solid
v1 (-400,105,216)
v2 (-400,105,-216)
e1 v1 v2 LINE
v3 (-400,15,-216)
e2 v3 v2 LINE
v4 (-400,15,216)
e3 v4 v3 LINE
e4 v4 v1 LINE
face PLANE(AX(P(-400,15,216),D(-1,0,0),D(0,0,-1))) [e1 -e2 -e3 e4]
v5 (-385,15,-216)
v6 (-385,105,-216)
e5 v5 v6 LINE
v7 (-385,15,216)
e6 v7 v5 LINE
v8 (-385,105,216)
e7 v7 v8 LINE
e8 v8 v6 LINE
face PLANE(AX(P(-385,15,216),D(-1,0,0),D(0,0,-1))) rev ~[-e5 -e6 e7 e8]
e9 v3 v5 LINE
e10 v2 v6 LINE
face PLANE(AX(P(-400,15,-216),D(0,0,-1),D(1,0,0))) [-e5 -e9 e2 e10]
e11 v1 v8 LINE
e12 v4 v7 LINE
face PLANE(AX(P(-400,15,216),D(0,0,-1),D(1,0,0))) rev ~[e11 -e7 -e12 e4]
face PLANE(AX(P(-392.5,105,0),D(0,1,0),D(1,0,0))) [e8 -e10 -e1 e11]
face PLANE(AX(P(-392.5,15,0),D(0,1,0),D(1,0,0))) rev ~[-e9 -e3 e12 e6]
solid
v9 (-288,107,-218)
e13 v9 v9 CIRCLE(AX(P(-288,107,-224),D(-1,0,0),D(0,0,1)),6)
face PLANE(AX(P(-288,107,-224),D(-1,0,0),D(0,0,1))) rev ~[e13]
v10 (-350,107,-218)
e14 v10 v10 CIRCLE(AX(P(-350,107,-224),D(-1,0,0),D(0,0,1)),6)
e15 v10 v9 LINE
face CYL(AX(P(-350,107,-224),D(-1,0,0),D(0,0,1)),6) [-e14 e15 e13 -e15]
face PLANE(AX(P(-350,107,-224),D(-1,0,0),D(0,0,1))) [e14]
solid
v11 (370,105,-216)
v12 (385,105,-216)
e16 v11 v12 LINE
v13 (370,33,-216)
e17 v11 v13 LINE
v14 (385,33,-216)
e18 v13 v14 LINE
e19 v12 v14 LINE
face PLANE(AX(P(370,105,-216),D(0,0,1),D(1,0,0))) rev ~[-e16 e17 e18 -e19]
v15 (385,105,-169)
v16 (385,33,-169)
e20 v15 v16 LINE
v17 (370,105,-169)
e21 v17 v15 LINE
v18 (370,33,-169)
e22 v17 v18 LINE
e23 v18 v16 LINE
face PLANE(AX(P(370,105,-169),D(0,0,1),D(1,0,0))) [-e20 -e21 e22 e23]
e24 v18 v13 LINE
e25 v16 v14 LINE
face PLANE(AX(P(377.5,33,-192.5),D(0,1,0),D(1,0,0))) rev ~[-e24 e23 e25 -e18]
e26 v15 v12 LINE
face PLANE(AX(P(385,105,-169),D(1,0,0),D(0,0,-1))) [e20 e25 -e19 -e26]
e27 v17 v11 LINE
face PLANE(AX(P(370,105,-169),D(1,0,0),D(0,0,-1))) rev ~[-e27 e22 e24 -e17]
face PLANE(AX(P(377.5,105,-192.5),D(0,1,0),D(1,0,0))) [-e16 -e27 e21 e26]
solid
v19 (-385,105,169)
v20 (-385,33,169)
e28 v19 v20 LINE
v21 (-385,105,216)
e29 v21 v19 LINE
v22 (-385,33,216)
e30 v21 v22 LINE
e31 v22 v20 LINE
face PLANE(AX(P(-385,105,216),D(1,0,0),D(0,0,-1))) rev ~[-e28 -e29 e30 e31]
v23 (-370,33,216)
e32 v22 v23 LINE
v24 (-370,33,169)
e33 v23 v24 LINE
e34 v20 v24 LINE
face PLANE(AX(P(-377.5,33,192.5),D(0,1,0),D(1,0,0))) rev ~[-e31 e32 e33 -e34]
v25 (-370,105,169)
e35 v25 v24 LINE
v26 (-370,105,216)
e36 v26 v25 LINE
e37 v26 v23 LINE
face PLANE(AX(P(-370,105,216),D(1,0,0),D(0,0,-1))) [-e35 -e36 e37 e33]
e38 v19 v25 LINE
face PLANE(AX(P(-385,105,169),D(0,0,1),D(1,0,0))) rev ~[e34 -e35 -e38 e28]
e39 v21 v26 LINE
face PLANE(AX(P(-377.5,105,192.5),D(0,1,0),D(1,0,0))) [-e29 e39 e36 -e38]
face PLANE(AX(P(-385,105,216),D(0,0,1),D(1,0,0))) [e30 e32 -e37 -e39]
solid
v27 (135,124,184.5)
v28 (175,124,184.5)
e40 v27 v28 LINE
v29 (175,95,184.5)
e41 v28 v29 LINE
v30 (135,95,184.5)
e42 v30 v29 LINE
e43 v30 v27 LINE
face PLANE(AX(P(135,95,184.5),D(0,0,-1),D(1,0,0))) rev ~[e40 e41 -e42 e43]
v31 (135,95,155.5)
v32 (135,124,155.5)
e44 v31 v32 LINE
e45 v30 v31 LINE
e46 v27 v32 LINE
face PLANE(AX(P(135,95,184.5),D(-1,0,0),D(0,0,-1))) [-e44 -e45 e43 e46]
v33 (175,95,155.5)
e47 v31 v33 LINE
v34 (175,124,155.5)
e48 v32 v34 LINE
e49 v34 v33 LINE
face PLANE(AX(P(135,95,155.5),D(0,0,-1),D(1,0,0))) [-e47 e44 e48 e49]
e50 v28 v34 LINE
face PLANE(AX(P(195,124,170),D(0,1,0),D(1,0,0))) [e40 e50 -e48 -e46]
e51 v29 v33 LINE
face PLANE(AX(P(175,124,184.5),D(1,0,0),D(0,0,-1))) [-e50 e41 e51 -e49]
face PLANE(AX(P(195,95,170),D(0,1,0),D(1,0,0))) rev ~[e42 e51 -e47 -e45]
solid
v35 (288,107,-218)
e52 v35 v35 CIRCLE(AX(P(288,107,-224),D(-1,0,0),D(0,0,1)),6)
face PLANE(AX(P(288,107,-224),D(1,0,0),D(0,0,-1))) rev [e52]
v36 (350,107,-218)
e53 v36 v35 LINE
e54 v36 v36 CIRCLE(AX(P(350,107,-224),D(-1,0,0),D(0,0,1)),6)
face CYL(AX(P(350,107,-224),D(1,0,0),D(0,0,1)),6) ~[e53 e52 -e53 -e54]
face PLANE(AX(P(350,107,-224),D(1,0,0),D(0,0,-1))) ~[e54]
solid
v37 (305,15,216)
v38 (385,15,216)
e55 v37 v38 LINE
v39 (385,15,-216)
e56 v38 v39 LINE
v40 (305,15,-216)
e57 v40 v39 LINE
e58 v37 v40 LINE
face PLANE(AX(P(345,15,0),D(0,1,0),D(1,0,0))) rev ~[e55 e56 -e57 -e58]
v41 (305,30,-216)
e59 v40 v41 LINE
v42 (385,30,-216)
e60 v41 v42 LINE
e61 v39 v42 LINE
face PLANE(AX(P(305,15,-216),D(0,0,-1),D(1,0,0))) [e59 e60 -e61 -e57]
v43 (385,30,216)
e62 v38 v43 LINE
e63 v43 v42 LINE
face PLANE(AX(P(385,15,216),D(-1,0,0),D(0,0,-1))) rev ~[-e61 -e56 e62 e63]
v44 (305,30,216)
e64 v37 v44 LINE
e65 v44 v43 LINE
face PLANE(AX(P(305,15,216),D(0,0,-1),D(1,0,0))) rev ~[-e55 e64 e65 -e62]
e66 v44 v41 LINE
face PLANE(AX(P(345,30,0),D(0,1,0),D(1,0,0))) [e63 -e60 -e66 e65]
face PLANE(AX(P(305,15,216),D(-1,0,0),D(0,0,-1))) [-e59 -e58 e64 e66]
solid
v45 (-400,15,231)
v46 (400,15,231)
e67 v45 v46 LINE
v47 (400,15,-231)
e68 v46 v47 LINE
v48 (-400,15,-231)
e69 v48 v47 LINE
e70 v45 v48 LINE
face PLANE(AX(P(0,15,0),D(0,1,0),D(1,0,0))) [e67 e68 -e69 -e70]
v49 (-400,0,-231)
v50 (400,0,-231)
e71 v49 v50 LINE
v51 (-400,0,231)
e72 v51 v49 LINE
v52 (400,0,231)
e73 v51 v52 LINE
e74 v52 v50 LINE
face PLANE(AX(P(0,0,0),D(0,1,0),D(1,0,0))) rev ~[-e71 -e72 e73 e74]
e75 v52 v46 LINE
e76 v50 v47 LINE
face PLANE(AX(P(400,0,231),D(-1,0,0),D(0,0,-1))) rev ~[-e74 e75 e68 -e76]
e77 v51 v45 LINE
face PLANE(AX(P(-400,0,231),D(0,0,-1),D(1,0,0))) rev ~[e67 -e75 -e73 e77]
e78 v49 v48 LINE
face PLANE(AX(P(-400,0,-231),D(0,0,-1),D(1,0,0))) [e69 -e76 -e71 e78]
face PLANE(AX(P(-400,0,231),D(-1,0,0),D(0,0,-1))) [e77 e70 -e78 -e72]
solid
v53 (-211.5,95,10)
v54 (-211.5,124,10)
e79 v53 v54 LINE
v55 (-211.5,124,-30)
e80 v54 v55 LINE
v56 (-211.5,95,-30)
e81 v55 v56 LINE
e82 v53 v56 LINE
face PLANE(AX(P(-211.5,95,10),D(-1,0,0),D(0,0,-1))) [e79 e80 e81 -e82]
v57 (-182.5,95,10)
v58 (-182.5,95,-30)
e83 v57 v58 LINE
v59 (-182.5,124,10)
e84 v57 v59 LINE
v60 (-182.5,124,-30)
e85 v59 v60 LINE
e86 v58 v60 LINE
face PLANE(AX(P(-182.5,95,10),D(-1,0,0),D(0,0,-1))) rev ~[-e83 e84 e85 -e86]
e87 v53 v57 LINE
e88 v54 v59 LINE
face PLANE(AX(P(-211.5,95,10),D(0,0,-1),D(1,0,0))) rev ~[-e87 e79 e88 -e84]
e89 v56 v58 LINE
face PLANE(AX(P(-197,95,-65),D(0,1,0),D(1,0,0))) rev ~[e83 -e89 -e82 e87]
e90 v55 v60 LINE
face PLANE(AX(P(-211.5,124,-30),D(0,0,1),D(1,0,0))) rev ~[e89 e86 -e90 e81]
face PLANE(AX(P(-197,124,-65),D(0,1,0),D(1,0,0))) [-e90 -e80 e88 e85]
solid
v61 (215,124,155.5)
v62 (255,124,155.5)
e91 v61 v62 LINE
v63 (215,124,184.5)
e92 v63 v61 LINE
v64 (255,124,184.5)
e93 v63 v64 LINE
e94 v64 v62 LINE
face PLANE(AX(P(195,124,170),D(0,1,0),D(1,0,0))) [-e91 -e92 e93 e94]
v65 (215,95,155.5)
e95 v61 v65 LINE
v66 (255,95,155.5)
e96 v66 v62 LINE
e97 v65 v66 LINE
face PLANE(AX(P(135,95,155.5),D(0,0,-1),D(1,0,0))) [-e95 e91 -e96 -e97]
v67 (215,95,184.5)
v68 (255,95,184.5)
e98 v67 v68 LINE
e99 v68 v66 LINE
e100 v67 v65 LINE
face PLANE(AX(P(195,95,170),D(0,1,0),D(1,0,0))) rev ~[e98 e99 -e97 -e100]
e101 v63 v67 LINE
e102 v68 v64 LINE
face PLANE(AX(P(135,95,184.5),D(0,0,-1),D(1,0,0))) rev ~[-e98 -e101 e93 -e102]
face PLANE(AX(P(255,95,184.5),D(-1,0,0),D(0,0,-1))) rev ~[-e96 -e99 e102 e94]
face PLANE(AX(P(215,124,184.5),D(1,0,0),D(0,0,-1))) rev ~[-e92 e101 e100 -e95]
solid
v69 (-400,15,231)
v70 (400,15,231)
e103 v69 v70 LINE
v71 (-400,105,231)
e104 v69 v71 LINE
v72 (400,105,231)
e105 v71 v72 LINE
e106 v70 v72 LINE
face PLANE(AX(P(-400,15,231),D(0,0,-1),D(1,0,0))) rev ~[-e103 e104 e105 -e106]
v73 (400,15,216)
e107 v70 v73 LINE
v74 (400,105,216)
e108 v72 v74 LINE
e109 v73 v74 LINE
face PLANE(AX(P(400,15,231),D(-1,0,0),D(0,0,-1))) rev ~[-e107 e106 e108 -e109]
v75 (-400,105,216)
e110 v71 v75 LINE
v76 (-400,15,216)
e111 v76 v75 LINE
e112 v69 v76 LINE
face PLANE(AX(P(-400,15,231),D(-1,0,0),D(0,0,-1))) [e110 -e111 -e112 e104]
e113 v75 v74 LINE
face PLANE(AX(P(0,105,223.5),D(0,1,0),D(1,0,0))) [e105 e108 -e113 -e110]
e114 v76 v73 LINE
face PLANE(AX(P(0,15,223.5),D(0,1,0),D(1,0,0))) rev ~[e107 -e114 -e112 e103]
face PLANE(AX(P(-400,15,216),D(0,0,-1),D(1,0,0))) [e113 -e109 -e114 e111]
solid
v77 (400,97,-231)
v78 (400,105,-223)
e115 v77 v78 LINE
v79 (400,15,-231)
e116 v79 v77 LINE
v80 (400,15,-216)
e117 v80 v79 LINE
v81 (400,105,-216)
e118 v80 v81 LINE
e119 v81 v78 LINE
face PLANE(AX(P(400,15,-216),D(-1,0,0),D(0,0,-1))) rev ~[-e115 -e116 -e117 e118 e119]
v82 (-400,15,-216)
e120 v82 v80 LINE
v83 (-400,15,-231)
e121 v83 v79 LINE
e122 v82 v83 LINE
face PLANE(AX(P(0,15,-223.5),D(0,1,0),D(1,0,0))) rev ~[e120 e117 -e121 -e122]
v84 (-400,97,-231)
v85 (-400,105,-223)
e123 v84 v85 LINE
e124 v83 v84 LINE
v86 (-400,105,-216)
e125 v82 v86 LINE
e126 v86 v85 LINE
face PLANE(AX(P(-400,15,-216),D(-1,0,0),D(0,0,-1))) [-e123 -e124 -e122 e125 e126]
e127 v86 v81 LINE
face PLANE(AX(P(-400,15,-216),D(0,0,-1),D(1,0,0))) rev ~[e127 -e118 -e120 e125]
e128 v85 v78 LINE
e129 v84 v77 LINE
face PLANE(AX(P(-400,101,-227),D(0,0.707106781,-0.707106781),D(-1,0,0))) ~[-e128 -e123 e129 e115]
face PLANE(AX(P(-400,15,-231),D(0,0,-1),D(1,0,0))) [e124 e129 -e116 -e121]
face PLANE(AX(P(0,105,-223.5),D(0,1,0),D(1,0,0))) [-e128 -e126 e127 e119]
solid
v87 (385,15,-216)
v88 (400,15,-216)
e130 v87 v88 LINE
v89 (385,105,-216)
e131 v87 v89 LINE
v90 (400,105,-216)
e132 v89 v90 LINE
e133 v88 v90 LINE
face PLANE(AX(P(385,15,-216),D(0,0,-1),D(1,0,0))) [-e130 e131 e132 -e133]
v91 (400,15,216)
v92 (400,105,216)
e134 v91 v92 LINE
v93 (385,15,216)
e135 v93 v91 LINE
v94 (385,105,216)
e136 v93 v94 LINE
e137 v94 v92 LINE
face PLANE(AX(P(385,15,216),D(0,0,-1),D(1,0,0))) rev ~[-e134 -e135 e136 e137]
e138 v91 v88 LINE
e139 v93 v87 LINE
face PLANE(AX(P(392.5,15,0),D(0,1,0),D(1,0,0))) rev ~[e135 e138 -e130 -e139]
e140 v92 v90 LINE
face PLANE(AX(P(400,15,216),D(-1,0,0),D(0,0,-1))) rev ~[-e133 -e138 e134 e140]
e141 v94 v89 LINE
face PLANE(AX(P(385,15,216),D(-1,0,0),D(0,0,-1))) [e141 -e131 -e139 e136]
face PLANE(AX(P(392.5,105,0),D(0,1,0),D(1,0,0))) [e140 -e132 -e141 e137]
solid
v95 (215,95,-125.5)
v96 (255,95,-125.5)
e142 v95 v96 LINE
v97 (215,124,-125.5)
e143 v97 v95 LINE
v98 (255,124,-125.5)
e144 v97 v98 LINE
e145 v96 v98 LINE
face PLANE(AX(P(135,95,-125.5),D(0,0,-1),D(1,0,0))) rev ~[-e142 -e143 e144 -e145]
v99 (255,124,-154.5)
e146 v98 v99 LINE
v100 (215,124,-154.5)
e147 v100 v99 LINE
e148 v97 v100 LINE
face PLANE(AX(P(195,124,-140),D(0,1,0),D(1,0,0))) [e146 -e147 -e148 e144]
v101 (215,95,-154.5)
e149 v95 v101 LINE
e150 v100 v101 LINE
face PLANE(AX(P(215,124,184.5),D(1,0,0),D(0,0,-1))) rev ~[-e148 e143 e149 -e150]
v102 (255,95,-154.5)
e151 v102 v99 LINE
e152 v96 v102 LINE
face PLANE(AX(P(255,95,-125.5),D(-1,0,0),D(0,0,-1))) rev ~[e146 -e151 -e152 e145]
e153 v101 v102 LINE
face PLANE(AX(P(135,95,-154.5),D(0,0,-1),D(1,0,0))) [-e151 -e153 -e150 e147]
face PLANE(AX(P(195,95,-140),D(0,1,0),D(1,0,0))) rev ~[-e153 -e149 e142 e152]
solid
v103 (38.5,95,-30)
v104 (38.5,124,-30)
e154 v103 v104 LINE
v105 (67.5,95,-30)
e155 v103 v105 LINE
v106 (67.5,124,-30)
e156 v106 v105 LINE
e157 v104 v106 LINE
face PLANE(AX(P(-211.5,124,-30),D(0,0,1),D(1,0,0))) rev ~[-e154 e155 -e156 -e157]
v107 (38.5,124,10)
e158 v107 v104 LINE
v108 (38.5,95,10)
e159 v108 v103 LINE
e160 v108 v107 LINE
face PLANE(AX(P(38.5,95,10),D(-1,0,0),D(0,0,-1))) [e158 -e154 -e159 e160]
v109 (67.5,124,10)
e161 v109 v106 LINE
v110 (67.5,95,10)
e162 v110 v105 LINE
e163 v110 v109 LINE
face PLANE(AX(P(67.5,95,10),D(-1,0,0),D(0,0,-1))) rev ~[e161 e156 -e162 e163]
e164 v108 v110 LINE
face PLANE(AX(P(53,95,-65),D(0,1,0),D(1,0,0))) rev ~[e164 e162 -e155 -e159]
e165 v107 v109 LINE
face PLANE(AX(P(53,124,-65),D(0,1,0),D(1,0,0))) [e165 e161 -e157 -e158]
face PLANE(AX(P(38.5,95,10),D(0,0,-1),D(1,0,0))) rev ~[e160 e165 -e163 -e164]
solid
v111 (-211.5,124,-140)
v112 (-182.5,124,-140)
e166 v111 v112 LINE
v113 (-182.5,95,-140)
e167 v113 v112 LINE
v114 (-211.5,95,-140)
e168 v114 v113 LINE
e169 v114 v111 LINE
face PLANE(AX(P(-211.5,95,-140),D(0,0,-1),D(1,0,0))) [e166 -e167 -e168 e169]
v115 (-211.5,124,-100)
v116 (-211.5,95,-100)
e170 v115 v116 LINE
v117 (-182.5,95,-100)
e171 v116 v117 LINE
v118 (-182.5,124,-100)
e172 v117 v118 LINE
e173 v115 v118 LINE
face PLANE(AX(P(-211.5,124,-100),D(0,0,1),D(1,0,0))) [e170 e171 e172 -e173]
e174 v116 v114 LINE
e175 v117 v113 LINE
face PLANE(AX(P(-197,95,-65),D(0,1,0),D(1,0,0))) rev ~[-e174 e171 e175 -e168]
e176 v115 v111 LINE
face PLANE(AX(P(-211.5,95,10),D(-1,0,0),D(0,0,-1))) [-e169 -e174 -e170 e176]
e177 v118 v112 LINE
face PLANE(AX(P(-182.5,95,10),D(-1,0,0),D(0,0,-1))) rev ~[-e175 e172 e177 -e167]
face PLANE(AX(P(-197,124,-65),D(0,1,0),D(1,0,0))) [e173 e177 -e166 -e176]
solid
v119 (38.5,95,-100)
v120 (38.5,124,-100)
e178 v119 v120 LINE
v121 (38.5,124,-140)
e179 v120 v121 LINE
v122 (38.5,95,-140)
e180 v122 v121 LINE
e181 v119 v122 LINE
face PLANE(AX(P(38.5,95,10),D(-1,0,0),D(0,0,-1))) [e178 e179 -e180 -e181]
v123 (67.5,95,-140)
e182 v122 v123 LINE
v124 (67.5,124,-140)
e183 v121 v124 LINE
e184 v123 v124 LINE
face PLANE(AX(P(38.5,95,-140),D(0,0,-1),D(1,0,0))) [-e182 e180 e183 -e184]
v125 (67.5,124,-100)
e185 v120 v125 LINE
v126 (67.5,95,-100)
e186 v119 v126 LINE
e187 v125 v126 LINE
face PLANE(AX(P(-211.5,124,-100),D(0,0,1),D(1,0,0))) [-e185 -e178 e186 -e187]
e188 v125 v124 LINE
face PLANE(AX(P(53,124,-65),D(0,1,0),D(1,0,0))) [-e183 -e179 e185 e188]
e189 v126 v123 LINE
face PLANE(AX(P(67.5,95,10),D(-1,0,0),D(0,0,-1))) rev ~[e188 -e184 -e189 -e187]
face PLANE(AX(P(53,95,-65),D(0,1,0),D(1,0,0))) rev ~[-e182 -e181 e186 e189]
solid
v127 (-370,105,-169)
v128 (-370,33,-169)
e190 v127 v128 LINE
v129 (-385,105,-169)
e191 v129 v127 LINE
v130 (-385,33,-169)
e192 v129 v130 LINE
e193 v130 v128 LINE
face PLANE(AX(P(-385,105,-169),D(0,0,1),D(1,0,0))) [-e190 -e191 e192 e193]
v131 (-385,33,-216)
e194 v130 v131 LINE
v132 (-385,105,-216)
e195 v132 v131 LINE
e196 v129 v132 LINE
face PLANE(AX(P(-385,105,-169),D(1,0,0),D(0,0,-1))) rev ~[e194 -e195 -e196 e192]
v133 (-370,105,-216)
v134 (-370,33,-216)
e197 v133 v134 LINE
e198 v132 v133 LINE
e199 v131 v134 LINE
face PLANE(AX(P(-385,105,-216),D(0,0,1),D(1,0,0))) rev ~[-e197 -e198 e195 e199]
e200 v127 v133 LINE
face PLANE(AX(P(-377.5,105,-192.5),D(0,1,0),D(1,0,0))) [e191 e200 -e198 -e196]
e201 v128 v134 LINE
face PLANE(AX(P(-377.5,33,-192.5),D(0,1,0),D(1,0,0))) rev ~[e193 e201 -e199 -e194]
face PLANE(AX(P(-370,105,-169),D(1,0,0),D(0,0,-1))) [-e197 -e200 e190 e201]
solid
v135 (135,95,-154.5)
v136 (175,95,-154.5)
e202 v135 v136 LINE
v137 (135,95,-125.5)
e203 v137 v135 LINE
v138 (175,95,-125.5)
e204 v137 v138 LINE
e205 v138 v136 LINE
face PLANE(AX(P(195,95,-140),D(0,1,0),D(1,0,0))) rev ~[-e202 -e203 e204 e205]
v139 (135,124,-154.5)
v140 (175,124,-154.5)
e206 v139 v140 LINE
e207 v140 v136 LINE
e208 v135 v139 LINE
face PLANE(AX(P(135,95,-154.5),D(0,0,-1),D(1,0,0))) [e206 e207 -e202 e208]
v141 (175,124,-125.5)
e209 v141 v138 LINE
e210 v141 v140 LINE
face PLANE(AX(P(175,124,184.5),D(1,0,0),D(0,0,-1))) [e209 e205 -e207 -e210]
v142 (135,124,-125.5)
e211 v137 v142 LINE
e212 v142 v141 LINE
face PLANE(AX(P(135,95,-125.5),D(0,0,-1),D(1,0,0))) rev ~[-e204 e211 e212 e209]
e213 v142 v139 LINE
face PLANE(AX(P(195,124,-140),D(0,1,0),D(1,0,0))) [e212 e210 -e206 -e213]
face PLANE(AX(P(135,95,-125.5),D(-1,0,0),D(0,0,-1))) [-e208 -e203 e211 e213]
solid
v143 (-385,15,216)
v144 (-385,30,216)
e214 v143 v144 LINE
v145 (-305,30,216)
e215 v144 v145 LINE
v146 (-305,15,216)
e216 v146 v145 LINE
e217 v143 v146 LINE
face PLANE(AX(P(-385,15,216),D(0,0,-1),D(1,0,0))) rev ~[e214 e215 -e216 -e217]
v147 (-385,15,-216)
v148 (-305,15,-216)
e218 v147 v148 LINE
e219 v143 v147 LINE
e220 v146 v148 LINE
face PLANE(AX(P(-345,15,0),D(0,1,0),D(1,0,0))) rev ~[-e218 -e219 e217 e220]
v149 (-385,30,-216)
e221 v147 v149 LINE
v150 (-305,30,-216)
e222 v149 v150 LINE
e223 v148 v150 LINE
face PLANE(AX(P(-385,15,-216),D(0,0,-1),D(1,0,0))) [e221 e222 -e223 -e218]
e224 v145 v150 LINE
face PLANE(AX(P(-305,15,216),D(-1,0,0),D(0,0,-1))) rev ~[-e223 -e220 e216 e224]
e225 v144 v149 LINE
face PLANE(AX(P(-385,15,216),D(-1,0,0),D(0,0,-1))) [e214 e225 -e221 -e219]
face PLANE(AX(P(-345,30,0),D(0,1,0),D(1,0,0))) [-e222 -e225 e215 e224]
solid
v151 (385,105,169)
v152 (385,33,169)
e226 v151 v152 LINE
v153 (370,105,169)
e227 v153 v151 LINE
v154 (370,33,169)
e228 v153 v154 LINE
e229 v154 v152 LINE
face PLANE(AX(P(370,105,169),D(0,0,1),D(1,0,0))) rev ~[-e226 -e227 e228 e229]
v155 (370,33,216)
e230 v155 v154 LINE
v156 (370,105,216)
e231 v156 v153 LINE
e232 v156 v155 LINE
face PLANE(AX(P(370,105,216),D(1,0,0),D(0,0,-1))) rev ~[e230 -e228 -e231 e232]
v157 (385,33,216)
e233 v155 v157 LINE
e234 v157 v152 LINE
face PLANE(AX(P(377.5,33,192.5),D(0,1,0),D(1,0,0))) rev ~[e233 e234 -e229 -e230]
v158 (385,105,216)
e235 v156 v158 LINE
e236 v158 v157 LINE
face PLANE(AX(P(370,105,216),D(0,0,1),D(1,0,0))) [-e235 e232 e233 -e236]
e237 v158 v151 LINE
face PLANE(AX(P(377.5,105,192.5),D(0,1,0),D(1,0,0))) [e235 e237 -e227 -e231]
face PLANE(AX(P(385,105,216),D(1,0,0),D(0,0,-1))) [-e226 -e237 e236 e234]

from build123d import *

# Parameters (mm, degrees)
ESQUISSE1_W             = 800
ESQUISSE1_H             = 462
BOSS_EXTRU_1_DEPTH      = 15
ESQUISSE3_W             = 800
ESQUISSE3_H             = 15
BOSS_EXTRU_3_DEPTH      = 90
BOSS_EXTRU_3_2_DEPTH    = 90
ESQUISSE4_W             = 15
ESQUISSE4_H             = 432
BOSS_EXTRU_4_DEPTH      = 90
BOSS_EXTRU_4_2_DEPTH    = 90
ESQUISSE5_W             = 15
ESQUISSE5_H             = 47
BOSS_EXTRU_5_DEPTH      = 72
BOSS_EXTRU_5_2_DEPTH    = 72
BOSS_EXTRU_5_3_DEPTH    = 72
BOSS_EXTRU_5_4_DEPTH    = 72
ESQUISSE7_W             = 80
ESQUISSE7_H             = 432
BOSS_EXTRU_6_DEPTH      = 15
BOSS_EXTRU_6_2_DEPTH    = 15
BOSS_EXTRU_7_START      = -50
ESQUISSE8_R             = 6
BOSS_EXTRU_7_DEPTH      = 62
CHANFREIN1_SIZE         = 8
ESQUISSE9_W             = 120
ESQUISSE9_H             = 29
BOSS_EXTRU_8_DEPTH      = 29
BOSS_EXTRU_8_2_DEPTH    = 29
ESQUISSE9_W_2           = 29
ESQUISSE9_H_2           = 150
BOSS_EXTRU_8_3_DEPTH    = 29
BOSS_EXTRU_8_4_DEPTH    = 29
ESQUISSE10_W            = 279
ESQUISSE10_H            = 70
ESQUISSE10_W_2          = 40
ESQUISSE10_H_2          = 339
ENL_V_MAT_EXTRU_1_DEPTH = 479.264571132


with BuildPart() as part:
    # Esquisse1 → Boss.-Extru.1 (new body)
    with BuildSketch(Plane(origin=(0, 0, 0), x_dir=(1, 0, 0), z_dir=(0, 1, 0))):
        Rectangle(ESQUISSE1_W, ESQUISSE1_H)
    extrude(amount=BOSS_EXTRU_1_DEPTH)


with BuildPart() as body_2:
    # Esquisse3 → Boss.-Extru.3 (new body)
    with BuildSketch(Plane(origin=(0, 15, 0), x_dir=(1, 0, 0), z_dir=(0, 1, 0))):
        with Locations((0, 223.5)):
            Rectangle(ESQUISSE3_W, ESQUISSE3_H)
    extrude(amount=BOSS_EXTRU_3_DEPTH)

    # Chanfrein1
    chanfrein1_edges = [body_2.edges().sort_by_distance(p)[0] for p in [
        (0, 105, -231),
    ]]
    chamfer(chanfrein1_edges, length=CHANFREIN1_SIZE)


with BuildPart() as body_3:
    # Esquisse3 → Boss.-Extru.3 2 (new body)
    with BuildSketch(Plane(origin=(0, 15, 0), x_dir=(1, 0, 0), z_dir=(0, 1, 0))):
        with Locations((0, -223.5)):
            Rectangle(ESQUISSE3_W, ESQUISSE3_H)
    extrude(amount=BOSS_EXTRU_3_2_DEPTH)


with BuildPart() as body_4:
    # Esquisse4 → Boss.-Extru.4 (new body)
    with BuildSketch(Plane(origin=(0, 15, 0), x_dir=(1, 0, 0), z_dir=(0, 1, 0))):
        with Locations((-392.5, 0)):
            Rectangle(ESQUISSE4_W, ESQUISSE4_H)
    extrude(amount=BOSS_EXTRU_4_DEPTH)


with BuildPart() as body_5:
    # Esquisse4 → Boss.-Extru.4 2 (new body)
    with BuildSketch(Plane(origin=(0, 15, 0), x_dir=(1, 0, 0), z_dir=(0, 1, 0))):
        with Locations((392.5, 0)):
            Rectangle(ESQUISSE4_W, ESQUISSE4_H)
    extrude(amount=BOSS_EXTRU_4_2_DEPTH)


with BuildPart() as body_6:
    # Esquisse5 → Boss.-Extru.5 (new body)
    with BuildSketch(Plane(origin=(0, 105, 0), x_dir=(1, 0, 0), z_dir=(0, 1, 0))):
        with Locations((-377.5, 192.5)):
            Rectangle(ESQUISSE5_W, ESQUISSE5_H)
    extrude(amount=-BOSS_EXTRU_5_DEPTH)


with BuildPart() as body_7:
    # Esquisse5 → Boss.-Extru.5 2 (new body)
    with BuildSketch(Plane(origin=(0, 105, 0), x_dir=(1, 0, 0), z_dir=(0, 1, 0))):
        with Locations((-377.5, -192.5)):
            Rectangle(ESQUISSE5_W, ESQUISSE5_H)
    extrude(amount=-BOSS_EXTRU_5_2_DEPTH)


with BuildPart() as body_8:
    # Esquisse5 → Boss.-Extru.5 3 (new body)
    with BuildSketch(Plane(origin=(0, 105, 0), x_dir=(1, 0, 0), z_dir=(0, 1, 0))):
        with Locations((377.5, -192.5)):
            Rectangle(ESQUISSE5_W, ESQUISSE5_H)
    extrude(amount=-BOSS_EXTRU_5_3_DEPTH)


with BuildPart() as body_9:
    # Esquisse5 → Boss.-Extru.5 4 (new body)
    with BuildSketch(Plane(origin=(0, 105, 0), x_dir=(1, 0, 0), z_dir=(0, 1, 0))):
        with Locations((377.5, 192.5)):
            Rectangle(ESQUISSE5_W, ESQUISSE5_H)
    extrude(amount=-BOSS_EXTRU_5_4_DEPTH)


with BuildPart() as body_10:
    # Esquisse7 → Boss.-Extru.6 (new body)
    with BuildSketch(Plane(origin=(0, 15, 0), x_dir=(1, 0, 0), z_dir=(0, 1, 0))):
        with Locations((-345, 0)):
            Rectangle(ESQUISSE7_W, ESQUISSE7_H)
    extrude(amount=BOSS_EXTRU_6_DEPTH)


with BuildPart() as body_11:
    # Esquisse7 → Boss.-Extru.6 2 (new body)
    with BuildSketch(Plane(origin=(0, 15, 0), x_dir=(1, 0, 0), z_dir=(0, 1, 0))):
        with Locations((345, 0)):
            Rectangle(ESQUISSE7_W, ESQUISSE7_H)
    extrude(amount=BOSS_EXTRU_6_2_DEPTH)


with BuildPart() as body_12:
    # Esquisse8 → Boss.-Extru.7 (new body)
    with BuildSketch(Plane.ZY.offset(400).offset(BOSS_EXTRU_7_START)):
        with Locations((-224, 107)):
            Circle(ESQUISSE8_R)
    extrude(amount=-BOSS_EXTRU_7_DEPTH)


with BuildPart() as body_13:
    # Symétrie3: mirrored copy
    add(body_12.part.mirror(Plane(origin=(0, 0, 0), x_dir=(0, 0, 1), z_dir=(1, 0, 0))))


with BuildPart() as body_14:
    # Esquisse9 → Boss.-Extru.8 (new body)
    with BuildSketch(Plane(origin=(0, 15, 0), x_dir=(1, 0, 0), z_dir=(0, 1, 0))):
        with Locations((195, 140)):
            Rectangle(ESQUISSE9_W, ESQUISSE9_H)
    extrude(amount=BOSS_EXTRU_8_DEPTH)


with BuildPart() as body_15:
    # Esquisse9 → Boss.-Extru.8 2 (new body)
    with BuildSketch(Plane(origin=(0, 15, 0), x_dir=(1, 0, 0), z_dir=(0, 1, 0))):
        with Locations((195, -170)):
            Rectangle(ESQUISSE9_W, ESQUISSE9_H)
    extrude(amount=BOSS_EXTRU_8_2_DEPTH)


with BuildPart() as body_16:
    # Esquisse9 → Boss.-Extru.8 3 (new body)
    with BuildSketch(Plane(origin=(0, 15, 0), x_dir=(1, 0, 0), z_dir=(0, 1, 0))):
        with Locations((-197, 65)):
            Rectangle(ESQUISSE9_W_2, ESQUISSE9_H_2)
    extrude(amount=BOSS_EXTRU_8_3_DEPTH)


with BuildPart() as body_17:
    # Esquisse9 → Boss.-Extru.8 4 (new body)
    with BuildSketch(Plane(origin=(0, 15, 0), x_dir=(1, 0, 0), z_dir=(0, 1, 0))):
        with Locations((53, 65)):
            Rectangle(ESQUISSE9_W_2, ESQUISSE9_H_2)
    extrude(amount=BOSS_EXTRU_8_4_DEPTH)


with BuildPart() as body_15_1:
    # Corps-Déplacer/Copier1: moved
    add(body_15.part.moved(Location((0, 80, 0))))


with BuildPart() as body_14_1:
    # Corps-Déplacer/Copier1: moved
    add(body_14.part.moved(Location((0, 80, 0))))


with BuildPart() as body_17_1:
    # Corps-Déplacer/Copier1: moved
    add(body_17.part.moved(Location((0, 80, 0))))


with BuildPart() as body_16_1:
    # Corps-Déplacer/Copier1: moved
    add(body_16.part.moved(Location((0, 80, 0))))


with BuildPart() as enl_v_mat_extru_1_tool:
    # Esquisse10 → Enlèv. mat.-Extru.1 (new, through all)
    with BuildSketch(Plane(origin=(0, 124, 0), x_dir=(1, 0, 0), z_dir=(0, 1, 0))):
        with Locations((-72, 65)):
            Rectangle(ESQUISSE10_W, ESQUISSE10_H)
        with Locations((195, -15)):
            Rectangle(ESQUISSE10_W_2, ESQUISSE10_H_2)
    extrude(amount=-ENL_V_MAT_EXTRU_1_DEPTH)


with BuildPart() as body_17_2:
    add(body_17_1.part)

    # Enlèv. mat.-Extru.1: cut by enl_v_mat_extru_1_tool
    add(enl_v_mat_extru_1_tool.part, mode=Mode.SUBTRACT)


with BuildPart() as body_16_2:
    add(body_16_1.part)

    # Enlèv. mat.-Extru.1: cut by enl_v_mat_extru_1_tool
    add(enl_v_mat_extru_1_tool.part, mode=Mode.SUBTRACT)


with BuildPart() as body_14_2:
    add(body_14_1.part)

    # Enlèv. mat.-Extru.1: cut by enl_v_mat_extru_1_tool
    add(enl_v_mat_extru_1_tool.part, mode=Mode.SUBTRACT)


with BuildPart() as body_15_2:
    add(body_15_1.part)

    # Enlèv. mat.-Extru.1: cut by enl_v_mat_extru_1_tool
    add(enl_v_mat_extru_1_tool.part, mode=Mode.SUBTRACT)


with BuildPart() as enl_v_mat_extru_1_piece_1:
    # of the separate pieces the step leaves, piece 1, a body of its own (enl_v_mat_extru_1_pieces)
    add(body_14_2.part.solids().sort_by_distance((135, 95, -154.5))[0])


with BuildPart() as enl_v_mat_extru_1_piece_2:
    # of the separate pieces the step leaves, piece 2, a body of its own (enl_v_mat_extru_1_pieces)
    add(body_14_2.part.solids().sort_by_distance((215, 95, -154.5))[0])


with BuildPart() as enl_v_mat_extru_1_piece_1_of_body_15:
    # of the separate pieces the step leaves, piece 1, a body of its own (enl_v_mat_extru_1_pieces_of_body_15)
    add(body_15_2.part.solids().sort_by_distance((135, 95, 184.5))[0])


with BuildPart() as enl_v_mat_extru_1_piece_2_of_body_15:
    # of the separate pieces the step leaves, piece 2, a body of its own (enl_v_mat_extru_1_pieces_of_body_15)
    add(body_15_2.part.solids().sort_by_distance((255, 95, 184.5))[0])


with BuildPart() as enl_v_mat_extru_1_piece_1_of_body_16:
    # of the separate pieces the step leaves, piece 1, a body of its own (enl_v_mat_extru_1_pieces_of_body_16)
    add(body_16_2.part.solids().sort_by_distance((-211.5, 95, -140))[0])


with BuildPart() as enl_v_mat_extru_1_piece_2_of_body_16:
    # of the separate pieces the step leaves, piece 2, a body of its own (enl_v_mat_extru_1_pieces_of_body_16)
    add(body_16_2.part.solids().sort_by_distance((-211.5, 95, 10))[0])


with BuildPart() as enl_v_mat_extru_1_piece_1_of_body_17:
    # of the separate pieces the step leaves, piece 1, a body of its own (enl_v_mat_extru_1_pieces_of_body_17)
    add(body_17_2.part.solids().sort_by_distance((38.5, 95, -140))[0])


with BuildPart() as enl_v_mat_extru_1_piece_2_of_body_17:
    # of the separate pieces the step leaves, piece 2, a body of its own (enl_v_mat_extru_1_pieces_of_body_17)
    add(body_17_2.part.solids().sort_by_distance((38.5, 95, -30))[0])


solid = Compound([part.part, body_2.part, body_3.part, body_4.part, body_5.part, body_6.part, body_7.part, body_8.part, body_9.part, body_10.part, body_11.part, body_12.part, body_13.part, enl_v_mat_extru_1_piece_1.part, enl_v_mat_extru_1_piece_2.part, enl_v_mat_extru_1_piece_1_of_body_15.part, enl_v_mat_extru_1_piece_2_of_body_15.part, enl_v_mat_extru_1_piece_1_of_body_16.part, enl_v_mat_extru_1_piece_2_of_body_16.part, enl_v_mat_extru_1_piece_1_of_body_17.part, enl_v_mat_extru_1_piece_2_of_body_17.part])
